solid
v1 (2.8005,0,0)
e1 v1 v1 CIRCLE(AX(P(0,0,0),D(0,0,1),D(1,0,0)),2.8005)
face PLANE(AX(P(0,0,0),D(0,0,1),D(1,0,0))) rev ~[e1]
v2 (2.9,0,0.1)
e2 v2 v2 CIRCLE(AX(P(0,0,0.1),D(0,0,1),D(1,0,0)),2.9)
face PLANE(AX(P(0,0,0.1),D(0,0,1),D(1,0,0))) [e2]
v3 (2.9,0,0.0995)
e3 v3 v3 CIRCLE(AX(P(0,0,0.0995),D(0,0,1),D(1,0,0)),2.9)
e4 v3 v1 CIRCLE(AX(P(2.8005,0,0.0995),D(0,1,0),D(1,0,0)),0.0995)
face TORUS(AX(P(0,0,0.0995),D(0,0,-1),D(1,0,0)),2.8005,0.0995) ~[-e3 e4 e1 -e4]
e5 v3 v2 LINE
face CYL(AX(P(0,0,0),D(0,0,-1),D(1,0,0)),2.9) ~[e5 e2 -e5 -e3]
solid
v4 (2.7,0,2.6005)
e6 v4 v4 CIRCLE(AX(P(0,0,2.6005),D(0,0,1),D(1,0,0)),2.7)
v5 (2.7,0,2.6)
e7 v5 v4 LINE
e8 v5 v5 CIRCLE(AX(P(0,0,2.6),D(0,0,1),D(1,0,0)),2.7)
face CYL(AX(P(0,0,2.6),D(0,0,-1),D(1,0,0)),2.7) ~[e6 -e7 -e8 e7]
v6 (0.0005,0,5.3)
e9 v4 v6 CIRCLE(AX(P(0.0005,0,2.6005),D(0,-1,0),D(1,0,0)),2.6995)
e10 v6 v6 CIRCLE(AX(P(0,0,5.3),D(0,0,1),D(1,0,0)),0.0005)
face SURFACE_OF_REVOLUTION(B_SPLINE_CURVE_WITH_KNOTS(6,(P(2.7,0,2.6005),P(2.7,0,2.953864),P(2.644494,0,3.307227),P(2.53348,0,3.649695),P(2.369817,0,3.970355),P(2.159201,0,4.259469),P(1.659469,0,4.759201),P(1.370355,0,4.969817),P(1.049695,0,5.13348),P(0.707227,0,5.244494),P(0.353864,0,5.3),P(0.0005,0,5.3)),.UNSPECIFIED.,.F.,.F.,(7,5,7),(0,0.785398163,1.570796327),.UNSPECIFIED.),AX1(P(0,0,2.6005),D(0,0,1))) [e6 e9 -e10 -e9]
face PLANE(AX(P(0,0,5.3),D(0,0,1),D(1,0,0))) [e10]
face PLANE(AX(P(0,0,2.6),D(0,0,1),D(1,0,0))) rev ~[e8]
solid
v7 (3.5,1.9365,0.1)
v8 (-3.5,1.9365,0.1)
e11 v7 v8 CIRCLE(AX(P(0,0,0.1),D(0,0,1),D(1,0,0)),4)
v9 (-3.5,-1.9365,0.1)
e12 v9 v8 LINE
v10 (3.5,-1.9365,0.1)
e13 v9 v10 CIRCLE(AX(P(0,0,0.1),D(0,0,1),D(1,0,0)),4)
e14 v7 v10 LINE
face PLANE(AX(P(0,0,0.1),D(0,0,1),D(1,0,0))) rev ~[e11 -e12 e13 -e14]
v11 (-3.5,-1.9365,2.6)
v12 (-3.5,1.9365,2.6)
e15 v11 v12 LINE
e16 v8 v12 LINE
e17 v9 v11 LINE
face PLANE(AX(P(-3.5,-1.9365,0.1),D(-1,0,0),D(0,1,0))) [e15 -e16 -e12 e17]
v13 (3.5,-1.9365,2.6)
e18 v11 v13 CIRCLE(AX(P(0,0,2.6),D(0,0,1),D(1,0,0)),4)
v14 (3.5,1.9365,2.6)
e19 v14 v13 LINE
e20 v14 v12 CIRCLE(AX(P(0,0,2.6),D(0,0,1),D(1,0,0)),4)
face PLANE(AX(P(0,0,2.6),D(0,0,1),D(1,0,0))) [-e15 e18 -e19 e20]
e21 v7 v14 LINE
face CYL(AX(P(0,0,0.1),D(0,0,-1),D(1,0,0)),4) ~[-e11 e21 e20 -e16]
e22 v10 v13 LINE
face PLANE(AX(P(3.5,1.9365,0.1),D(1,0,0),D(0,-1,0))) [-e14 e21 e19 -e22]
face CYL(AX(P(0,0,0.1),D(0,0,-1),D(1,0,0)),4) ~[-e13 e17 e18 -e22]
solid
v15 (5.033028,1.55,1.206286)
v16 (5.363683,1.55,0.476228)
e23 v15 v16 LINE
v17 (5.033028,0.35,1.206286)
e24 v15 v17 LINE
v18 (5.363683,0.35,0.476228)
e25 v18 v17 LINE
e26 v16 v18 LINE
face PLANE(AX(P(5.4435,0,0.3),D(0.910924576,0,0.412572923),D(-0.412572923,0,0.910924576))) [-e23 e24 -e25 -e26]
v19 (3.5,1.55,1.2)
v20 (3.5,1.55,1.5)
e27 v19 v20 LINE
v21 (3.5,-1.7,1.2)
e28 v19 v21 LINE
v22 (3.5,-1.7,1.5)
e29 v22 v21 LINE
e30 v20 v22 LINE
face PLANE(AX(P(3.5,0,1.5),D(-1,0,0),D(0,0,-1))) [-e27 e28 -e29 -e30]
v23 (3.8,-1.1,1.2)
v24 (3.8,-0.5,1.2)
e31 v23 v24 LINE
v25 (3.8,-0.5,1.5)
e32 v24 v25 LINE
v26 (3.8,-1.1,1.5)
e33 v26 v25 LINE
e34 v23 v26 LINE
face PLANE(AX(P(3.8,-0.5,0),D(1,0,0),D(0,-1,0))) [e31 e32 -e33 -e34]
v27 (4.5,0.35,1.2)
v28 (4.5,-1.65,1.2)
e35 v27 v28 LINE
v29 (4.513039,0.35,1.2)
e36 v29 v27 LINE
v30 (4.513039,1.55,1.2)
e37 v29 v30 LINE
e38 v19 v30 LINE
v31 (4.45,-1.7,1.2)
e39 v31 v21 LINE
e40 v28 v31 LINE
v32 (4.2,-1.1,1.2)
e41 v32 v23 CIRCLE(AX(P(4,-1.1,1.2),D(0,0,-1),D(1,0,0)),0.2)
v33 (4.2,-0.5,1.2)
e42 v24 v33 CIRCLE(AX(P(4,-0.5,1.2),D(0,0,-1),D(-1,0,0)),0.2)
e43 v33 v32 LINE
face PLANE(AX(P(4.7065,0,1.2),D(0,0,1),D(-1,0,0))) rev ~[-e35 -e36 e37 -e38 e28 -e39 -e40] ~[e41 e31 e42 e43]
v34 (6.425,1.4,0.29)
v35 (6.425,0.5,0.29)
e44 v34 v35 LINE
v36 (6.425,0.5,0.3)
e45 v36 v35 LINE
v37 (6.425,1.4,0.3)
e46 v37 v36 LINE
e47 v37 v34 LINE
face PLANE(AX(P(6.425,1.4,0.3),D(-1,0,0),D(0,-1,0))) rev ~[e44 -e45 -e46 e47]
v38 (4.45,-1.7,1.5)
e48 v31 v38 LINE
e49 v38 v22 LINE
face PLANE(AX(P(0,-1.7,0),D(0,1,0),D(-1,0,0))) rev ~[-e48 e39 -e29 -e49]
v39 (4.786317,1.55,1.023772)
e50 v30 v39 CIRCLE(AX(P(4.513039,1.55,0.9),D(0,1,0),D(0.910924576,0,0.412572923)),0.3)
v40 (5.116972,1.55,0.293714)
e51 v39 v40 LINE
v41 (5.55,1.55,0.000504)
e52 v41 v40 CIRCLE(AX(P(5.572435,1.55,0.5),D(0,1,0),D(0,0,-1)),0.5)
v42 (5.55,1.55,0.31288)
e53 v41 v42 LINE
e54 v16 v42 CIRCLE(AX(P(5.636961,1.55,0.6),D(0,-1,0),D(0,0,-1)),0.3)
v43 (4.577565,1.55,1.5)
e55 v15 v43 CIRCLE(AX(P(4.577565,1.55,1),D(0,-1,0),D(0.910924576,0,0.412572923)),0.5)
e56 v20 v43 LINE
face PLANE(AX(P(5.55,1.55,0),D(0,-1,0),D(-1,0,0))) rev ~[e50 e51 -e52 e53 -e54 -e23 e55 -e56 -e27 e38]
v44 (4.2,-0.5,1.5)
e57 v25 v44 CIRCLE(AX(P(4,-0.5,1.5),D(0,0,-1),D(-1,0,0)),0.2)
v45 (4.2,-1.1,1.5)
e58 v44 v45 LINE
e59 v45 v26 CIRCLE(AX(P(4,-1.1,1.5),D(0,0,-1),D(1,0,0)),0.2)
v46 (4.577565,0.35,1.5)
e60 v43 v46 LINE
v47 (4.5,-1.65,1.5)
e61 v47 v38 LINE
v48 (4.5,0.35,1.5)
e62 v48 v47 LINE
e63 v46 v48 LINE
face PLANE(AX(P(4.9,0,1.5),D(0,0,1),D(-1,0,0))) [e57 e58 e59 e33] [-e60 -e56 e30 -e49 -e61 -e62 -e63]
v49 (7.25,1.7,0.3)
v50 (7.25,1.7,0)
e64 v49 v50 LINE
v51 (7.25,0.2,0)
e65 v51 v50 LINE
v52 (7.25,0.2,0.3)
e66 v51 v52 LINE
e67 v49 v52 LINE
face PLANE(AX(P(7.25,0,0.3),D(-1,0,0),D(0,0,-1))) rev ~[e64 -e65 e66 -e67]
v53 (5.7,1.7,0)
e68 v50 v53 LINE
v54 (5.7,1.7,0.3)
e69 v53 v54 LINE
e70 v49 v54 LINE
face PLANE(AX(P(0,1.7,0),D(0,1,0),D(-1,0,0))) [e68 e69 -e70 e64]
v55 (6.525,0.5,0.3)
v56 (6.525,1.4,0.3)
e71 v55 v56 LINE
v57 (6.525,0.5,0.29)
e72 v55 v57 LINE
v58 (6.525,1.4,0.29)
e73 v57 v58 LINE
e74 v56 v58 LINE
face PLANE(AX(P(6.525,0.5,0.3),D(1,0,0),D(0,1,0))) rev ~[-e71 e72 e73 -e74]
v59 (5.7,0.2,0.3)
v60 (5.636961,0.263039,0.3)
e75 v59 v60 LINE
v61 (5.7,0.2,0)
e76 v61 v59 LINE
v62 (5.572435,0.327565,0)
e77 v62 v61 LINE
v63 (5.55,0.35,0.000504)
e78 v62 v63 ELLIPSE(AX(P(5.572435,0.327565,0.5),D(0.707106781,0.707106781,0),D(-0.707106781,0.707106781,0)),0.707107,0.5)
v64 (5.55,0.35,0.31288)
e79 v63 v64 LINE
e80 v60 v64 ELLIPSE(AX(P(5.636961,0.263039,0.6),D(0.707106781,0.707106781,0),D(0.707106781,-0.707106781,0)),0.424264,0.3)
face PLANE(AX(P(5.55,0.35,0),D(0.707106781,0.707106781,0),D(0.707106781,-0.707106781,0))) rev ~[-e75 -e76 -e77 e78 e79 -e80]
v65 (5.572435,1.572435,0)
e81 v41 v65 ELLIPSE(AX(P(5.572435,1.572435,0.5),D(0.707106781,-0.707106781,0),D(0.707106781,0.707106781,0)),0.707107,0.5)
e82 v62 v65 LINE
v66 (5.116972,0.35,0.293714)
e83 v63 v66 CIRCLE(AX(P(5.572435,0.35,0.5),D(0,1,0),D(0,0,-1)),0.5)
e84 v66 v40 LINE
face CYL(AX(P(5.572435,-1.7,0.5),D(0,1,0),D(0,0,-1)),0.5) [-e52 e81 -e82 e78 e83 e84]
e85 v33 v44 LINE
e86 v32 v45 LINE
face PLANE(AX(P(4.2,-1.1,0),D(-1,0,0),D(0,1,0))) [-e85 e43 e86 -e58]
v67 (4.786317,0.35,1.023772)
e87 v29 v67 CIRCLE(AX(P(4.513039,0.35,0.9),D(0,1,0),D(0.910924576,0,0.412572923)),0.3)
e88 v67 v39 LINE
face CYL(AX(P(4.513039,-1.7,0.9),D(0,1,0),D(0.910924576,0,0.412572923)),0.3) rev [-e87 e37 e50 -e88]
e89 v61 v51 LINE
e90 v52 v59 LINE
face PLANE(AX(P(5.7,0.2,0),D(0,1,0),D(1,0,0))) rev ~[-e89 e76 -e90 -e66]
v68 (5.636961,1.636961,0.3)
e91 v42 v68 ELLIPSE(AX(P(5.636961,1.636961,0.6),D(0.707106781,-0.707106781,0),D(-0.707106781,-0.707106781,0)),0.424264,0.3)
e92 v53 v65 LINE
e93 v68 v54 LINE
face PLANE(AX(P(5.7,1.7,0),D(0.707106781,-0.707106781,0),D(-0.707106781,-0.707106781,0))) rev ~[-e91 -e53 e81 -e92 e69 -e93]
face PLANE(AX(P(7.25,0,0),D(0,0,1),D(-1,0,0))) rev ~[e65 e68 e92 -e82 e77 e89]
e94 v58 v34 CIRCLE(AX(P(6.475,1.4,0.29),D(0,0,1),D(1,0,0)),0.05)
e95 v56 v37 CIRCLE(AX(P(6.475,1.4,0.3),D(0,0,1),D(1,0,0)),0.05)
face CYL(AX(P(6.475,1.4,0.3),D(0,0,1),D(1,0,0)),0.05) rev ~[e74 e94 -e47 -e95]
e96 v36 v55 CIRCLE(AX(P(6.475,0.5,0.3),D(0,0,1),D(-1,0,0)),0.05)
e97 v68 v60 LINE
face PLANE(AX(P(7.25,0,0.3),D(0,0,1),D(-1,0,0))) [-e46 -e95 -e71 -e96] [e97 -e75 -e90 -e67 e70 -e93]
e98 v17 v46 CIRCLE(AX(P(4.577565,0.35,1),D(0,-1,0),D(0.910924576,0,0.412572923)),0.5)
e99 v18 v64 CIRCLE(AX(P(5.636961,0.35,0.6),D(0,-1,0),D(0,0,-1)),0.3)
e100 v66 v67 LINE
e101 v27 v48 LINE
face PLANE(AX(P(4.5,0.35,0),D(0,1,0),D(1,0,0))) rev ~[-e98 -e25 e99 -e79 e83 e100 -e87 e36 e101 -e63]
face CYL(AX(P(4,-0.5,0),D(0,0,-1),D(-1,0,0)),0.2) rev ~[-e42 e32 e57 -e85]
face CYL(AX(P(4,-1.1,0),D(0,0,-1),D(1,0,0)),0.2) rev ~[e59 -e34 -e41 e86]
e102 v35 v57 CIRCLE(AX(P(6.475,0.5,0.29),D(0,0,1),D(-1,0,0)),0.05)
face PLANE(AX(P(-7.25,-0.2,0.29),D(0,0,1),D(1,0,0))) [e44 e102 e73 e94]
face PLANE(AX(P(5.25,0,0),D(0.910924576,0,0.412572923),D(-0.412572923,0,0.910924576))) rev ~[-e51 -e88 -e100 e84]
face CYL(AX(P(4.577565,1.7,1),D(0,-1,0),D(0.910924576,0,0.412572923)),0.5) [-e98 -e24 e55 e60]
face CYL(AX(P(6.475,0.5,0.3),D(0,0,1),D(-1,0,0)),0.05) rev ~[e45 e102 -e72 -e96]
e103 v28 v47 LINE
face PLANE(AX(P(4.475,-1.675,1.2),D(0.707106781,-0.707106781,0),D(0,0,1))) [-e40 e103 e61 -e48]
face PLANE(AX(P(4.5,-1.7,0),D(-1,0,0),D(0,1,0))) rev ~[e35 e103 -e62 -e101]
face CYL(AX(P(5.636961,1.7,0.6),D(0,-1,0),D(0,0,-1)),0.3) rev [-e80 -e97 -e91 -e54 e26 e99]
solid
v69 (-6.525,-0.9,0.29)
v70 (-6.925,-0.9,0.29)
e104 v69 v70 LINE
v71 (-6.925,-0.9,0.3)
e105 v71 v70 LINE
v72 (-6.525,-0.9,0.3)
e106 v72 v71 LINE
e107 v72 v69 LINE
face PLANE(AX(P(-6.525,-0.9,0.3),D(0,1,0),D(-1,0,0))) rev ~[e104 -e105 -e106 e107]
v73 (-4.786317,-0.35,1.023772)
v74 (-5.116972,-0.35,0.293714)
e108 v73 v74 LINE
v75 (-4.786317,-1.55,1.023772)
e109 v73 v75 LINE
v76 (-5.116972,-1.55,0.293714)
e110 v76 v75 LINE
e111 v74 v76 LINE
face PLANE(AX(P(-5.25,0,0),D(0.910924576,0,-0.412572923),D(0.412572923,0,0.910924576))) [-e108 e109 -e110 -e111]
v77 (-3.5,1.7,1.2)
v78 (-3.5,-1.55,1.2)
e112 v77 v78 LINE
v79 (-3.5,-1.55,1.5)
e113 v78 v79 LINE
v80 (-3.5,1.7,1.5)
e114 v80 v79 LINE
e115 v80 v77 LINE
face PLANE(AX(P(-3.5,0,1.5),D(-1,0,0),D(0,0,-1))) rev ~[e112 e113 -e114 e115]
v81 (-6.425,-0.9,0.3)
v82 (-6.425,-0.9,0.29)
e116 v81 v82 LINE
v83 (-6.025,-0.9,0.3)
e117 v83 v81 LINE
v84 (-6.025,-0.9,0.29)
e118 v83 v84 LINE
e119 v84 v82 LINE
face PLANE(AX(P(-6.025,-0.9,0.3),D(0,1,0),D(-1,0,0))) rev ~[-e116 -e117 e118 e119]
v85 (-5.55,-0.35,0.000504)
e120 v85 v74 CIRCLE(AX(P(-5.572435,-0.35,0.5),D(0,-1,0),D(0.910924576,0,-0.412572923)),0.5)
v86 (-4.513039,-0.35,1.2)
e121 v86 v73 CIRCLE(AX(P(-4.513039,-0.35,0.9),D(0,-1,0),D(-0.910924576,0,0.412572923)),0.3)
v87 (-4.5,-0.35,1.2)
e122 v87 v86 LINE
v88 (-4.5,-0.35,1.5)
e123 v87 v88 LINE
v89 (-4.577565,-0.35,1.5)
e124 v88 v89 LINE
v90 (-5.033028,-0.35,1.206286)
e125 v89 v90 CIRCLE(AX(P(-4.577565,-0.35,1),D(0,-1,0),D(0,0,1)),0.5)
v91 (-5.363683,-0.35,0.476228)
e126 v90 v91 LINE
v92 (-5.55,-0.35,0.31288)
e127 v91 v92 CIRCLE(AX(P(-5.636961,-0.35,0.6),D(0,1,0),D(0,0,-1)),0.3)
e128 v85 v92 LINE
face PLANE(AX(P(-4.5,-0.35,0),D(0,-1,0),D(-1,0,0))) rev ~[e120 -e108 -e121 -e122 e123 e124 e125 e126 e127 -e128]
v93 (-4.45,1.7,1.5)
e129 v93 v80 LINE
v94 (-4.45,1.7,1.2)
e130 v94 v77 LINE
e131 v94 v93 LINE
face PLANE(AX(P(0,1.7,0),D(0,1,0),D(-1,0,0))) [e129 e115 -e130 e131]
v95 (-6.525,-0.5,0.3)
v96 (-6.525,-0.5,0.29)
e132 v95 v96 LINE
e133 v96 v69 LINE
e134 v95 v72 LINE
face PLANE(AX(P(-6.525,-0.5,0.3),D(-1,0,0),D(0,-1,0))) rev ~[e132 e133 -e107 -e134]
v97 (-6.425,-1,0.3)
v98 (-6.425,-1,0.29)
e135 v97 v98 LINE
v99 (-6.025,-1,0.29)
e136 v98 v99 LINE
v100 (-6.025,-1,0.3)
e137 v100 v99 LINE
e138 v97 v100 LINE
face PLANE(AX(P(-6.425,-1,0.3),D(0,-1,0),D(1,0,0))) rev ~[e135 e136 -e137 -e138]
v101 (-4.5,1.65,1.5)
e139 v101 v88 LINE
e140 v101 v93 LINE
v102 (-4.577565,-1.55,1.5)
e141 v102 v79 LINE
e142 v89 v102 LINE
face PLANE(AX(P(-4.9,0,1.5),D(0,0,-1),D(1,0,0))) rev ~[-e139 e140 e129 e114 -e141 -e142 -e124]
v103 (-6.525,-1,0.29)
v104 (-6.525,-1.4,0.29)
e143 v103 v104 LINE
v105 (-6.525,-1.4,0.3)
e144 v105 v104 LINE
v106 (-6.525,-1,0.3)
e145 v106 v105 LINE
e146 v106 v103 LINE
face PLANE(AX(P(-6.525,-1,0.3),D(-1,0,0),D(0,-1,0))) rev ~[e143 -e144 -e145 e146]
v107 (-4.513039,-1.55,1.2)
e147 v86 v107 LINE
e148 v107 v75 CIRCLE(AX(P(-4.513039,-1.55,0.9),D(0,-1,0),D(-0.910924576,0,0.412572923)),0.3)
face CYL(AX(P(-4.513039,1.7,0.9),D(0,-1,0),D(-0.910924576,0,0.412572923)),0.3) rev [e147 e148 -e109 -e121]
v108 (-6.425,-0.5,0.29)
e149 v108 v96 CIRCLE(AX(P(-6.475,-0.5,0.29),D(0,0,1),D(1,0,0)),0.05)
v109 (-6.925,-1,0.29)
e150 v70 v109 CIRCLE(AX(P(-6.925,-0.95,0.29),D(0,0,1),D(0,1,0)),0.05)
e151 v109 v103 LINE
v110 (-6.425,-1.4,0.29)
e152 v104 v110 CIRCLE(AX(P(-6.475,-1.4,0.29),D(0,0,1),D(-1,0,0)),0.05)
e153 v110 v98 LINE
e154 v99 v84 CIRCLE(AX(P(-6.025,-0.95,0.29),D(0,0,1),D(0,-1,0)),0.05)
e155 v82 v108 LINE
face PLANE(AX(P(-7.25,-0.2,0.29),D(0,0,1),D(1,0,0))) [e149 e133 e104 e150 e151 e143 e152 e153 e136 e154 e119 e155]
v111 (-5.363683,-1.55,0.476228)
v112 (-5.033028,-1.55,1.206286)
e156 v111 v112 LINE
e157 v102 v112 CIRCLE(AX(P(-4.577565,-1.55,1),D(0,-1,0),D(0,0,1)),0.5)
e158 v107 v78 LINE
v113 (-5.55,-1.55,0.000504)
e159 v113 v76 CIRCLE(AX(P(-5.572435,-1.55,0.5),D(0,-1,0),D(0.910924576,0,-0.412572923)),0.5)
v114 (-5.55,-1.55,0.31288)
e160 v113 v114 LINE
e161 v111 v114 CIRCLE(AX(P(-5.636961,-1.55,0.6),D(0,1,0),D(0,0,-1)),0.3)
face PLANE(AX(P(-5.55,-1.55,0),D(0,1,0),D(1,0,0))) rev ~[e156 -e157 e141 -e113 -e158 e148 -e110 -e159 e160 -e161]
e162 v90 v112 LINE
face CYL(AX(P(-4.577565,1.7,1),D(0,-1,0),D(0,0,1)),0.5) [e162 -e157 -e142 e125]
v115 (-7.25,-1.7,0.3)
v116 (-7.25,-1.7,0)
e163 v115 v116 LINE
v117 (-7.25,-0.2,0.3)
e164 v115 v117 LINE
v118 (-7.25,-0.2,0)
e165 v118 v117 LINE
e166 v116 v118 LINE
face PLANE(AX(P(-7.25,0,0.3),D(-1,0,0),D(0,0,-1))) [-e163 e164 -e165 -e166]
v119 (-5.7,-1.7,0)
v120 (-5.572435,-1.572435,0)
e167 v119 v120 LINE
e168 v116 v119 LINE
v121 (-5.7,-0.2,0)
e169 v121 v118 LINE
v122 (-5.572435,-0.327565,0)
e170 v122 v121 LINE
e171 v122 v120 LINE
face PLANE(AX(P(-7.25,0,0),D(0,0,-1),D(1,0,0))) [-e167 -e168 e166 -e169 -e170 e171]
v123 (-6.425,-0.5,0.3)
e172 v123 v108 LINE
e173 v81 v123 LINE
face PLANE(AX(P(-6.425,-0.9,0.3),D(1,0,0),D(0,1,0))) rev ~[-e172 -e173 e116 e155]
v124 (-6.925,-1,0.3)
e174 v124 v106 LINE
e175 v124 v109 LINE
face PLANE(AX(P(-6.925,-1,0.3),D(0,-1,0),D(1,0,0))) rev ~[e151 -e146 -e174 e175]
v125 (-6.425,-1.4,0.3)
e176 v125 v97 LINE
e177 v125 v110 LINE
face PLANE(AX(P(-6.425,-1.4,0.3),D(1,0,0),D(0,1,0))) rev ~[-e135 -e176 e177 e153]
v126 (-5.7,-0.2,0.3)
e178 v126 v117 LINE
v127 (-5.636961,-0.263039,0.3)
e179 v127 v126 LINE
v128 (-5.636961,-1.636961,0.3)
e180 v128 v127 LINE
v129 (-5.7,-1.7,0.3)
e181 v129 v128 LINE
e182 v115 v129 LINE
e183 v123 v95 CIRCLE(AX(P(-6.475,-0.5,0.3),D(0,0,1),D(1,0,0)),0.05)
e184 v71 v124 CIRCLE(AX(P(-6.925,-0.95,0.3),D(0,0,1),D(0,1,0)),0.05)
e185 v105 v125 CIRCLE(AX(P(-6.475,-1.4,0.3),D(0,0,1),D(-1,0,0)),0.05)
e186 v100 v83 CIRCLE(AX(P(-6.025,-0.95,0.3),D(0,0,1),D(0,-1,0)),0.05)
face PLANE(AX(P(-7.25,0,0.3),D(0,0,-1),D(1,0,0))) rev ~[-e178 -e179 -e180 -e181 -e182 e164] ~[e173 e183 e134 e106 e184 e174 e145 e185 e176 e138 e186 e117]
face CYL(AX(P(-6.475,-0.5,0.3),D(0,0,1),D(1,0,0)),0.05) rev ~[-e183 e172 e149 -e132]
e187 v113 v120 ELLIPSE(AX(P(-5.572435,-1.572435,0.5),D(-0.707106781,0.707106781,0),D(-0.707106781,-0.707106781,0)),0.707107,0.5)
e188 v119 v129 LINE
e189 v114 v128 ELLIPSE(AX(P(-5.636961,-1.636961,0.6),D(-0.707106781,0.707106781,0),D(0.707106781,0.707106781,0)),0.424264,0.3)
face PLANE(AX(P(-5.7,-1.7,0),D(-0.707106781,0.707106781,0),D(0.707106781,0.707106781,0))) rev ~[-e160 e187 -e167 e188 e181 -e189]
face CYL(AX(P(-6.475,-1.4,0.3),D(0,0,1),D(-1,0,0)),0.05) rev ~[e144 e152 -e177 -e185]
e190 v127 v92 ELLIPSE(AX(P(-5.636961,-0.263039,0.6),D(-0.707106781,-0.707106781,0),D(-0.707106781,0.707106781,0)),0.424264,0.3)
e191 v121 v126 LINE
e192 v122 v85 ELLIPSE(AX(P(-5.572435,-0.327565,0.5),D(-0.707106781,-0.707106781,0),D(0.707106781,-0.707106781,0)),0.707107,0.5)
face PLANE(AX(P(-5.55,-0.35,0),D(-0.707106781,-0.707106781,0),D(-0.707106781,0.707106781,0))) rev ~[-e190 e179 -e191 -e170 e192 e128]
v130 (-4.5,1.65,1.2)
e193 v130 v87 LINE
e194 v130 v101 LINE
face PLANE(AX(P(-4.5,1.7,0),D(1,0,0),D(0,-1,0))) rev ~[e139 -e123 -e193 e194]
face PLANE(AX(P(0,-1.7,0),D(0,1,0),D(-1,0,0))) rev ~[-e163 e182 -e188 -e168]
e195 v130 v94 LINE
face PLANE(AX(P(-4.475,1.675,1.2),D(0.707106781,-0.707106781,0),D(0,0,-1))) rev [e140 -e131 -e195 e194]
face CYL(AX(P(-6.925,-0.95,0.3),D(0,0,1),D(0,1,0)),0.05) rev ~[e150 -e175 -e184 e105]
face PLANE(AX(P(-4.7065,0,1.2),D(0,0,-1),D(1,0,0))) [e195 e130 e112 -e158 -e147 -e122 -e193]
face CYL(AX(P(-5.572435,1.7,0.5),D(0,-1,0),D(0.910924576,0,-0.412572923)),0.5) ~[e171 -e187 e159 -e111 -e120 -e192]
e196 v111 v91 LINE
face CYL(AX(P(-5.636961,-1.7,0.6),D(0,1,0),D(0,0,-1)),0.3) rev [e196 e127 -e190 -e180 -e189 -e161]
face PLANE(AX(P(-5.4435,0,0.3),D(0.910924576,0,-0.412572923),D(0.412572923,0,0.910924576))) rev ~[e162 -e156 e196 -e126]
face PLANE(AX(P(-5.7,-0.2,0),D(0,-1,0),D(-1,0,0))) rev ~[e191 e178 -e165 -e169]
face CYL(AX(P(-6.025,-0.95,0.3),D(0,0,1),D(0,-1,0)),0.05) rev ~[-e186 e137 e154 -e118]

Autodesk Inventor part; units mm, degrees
ref_plane "YZ Plane" through (0, 0, 0) normal (1, 0, 0) x (0, 1, 0)
ref_plane "XZ Plane" through (0, 0, 0) normal (0, 1, 0) x (-1, 0, 0)
ref_plane "XY Plane" through (0, 0, 0) normal (0, 0, 1) x (1, 0, 0)
sketch "Sketch1" plane through (0, 0, 0) normal (0, 0, 1) x (1, 0, 0)
  circle A0 centre (0, 0) radius 2.9
  dimension "d0" = 5.8
extrude "Extrusion1" add sketch "Sketch1" along normal blind 0.1
sketch "Sketch2" plane through (0, 0, 0.1) normal (0, 0, 1) x (1, 0, 0)
  circle A0 centre (0, 0) radius 4
  line L0 (-3.5, 1.9365) -> (3.5, 1.9365)
  line L1 (3.5, 1.9365) -> (3.5, -1.9365)
  line L2 (3.5, -1.9365) -> (-3.5, -1.9365)
  line L3 (-3.5, -1.9365) -> (-3.5, 1.9365)
  point P0 (-3.5, -1.9365)
  dimension "d3" = 8
  dimension "d4" = 7
extrude "Extrusion2" add sketch "Sketch2" along normal blind 2.5 separate body contours L0 A0 | L1 L2 L3 L0 | A0 L2
fillet "Fillet1" radius 0.1 1 edges at (-2.9, 0, 0)
sketch "Sketch3" plane through (0, 0, 2.6) normal (0, 0, 1) x (1, 0, 0)
  circle A0 centre (0, 0) radius 2.7
  dimension "d8" = 5.4
extrude "Extrusion3" add sketch "Sketch3" along normal blind 2.7 separate body
fillet "Fillet2" radius 2.7 1 edges at (-2.7, 0, 5.3)
sketch "Sketch4" plane through (0, 0, 0) normal (0, 1, 0) x (-1, 0, 0)
  line L0 (7.25, 0) -> (5.25, 0)
  line L1 (5.25, 0) -> (4.7065, 1.2)
  line L2 (4.7065, 1.2) -> (3.5, 1.2)
  line L3 (7.25, 0.3) -> (5.4435, 0.3)
  line L4 (5.4435, 0.3) -> (4.9, 1.5)
  line L5 (4.9, 1.5) -> (3.5, 1.5)
  line L6 (7.25, 0.3) -> (7.25, 0)
  line L7 (3.5, 1.5) -> (3.5, 1.2)
  line L8 (0, 0) -> (0, 5.7322) construction
  line L9 (-7.25, 0) -> (-5.25, 0)
  line L10 (-5.25, 0) -> (-4.7065, 1.2)
  line L11 (-4.7065, 1.2) -> (-3.5, 1.2)
  line L12 (-7.25, 0.3) -> (-5.4435, 0.3)
  line L13 (-5.4435, 0.3) -> (-4.9, 1.5)
  line L14 (-4.9, 1.5) -> (-3.5, 1.5)
  line L15 (-7.25, 0.3) -> (-7.25, 0)
  line L16 (-3.5, 1.5) -> (-3.5, 1.2)
  dimension "d12" = 0.3
  dimension "d14" = 0.3
  dimension "d16" = 0.3
  dimension "d17" = 3.5
  dimension "d18" = 1.5
  dimension "d20" = 2
  dimension "d21" = 1.4
  dimension "d29" = 14.5
extrude "Extrusion4" add sketch "Sketch4" along normal mid plane 3.4 separate body
fillet "Fillet3" radius 0.3 4 edges at (-4.7065, 0, 1.2) (-5.4435, 0, 0.3) (4.7065, 0, 1.2) (5.4435, 0, 0.3)
fillet "Fillet4" radius 0.5 4 edges at (-4.9, 0, 1.5) (-5.25, 0, 0) (4.9, 0, 1.5) (5.25, 0, 0)
sketch "Sketch5" plane through (-7.25, -1.7, 0) normal (0, 0, -1) x (-1, 0, 0)
  line L0 (-2.75, 3.4) -> (-2.75, 1.35)
  line L1 (-2.75, 1.35) -> (-1.7, 1.35)
  line L2 (-1.7, 1.35) -> (-1.55, 1.5)
  line L3 (-1.55, 1.5) -> (0, 1.5)
  line L4 (0, 1.5) -> (0, 0)
  line L5 (0, 0) -> (-1.55, 0)
  line L6 (-1.55, 0) -> (-1.7, 0.15)
  line L7 (-1.7, 0.15) -> (-3.75, 0.15)
  line L8 (-1.7, 1.35) -> (-1.7, 0.15) construction
  line L9 (-2.75, 3.4) -> (-3.75, 3.4)
  line L10 (-14.5, 3.4) -> (-12.95, 3.4)
  line L11 (-12.95, 3.4) -> (-12.8, 3.25)
  line L12 (-12.8, 3.25) -> (-10.75, 3.25)
  line L13 (-10.75, 0) -> (-11.75, 0)
  line L14 (-11.75, 0) -> (-11.75, 2.05)
  line L15 (-11.75, 2.05) -> (-12.8, 2.05)
  line L16 (-12.8, 2.05) -> (-12.95, 1.9)
  line L17 (-12.95, 1.9) -> (-14.5, 1.9)
  line L18 (-14.5, 1.9) -> (-14.5, 3.4)
  line L19 (-3.75, 3.4) -> (-3.75, 0.15)
  line L20 (-10.75, 3.25) -> (-10.75, 0)
  line L21 (0, 0) -> (-14.5, 0)
  line L22 (-14.5, 0) -> (-14.5, 3.4)
  line L23 (-14.5, 3.4) -> (0, 3.4)
  line L24 (0, 3.4) -> (0, 0)
  line L25 (-11.25, 1.2) -> (-11.25, 0.6) construction
  line L26 (-11.05, 1.2) -> (-11.05, 0.6)
  line L27 (-11.45, 0.6) -> (-11.45, 1.2)
  arc A0 (-11.05, 1.2) -> (-11.45, 1.2) centre (-11.25, 1.2) ccw
  arc A1 (-11.45, 0.6) -> (-11.05, 0.6) centre (-11.25, 0.6) ccw
  point P0 (-1.7, 0.75)
  point P1 (0, 0.75)
  point P2 (-11.25, 0.9)
  point P3 (-11.25, 0)
  point P4 (-3.75, 3.4)
  point P5 (-10.75, 0)
  point P6 (0, 1.5)
  point P7 (-2.75, 3.4)
  point P8 (-11.75, 0)
  dimension "d31" = 1.5
  dimension "d32" = 1.2
  dimension "d33" = 135
  dimension "d34" = 1.7
  dimension "d35" = 1
  dimension "d36" = 3.4
  dimension "d37" = 3.75
  dimension "d38" = 7
  dimension "d39" = 1
  dimension "d41" = 0.4
  dimension "d42" = 0.6
extrude "Extrusion5" cut sketch "Sketch5" against normal through all contours L23 L24 L3 L2 L1 L0 | L19 L7 L6 L21 L20 L12 L11 L23 | L17 L16 L15 L14 L21 L22 | L26 A1 L27 A0 bodies 4
sketch "Sketch6" plane through (-7.25, -0.2, 0.3) normal (0, 0, 1) x (1, 0, 0)
  line L0 (0.775, -0.3) -> (0.775, -1.2) construction
  line L1 (0.725, -0.3) -> (0.725, -1.2)
  line L2 (0.825, -1.2) -> (0.825, -0.3)
  arc A0 (0.825, -0.3) -> (0.725, -0.3) centre (0.775, -0.3) ccw
  arc A1 (0.725, -1.2) -> (0.825, -1.2) centre (0.775, -1.2) ccw
  line L3 (0, -1.5) -> (0, 0) projected
  line L4 (0.325, -0.75) -> (1.225, -0.75) construction
  line L5 (0.325, -0.8) -> (1.225, -0.8)
  line L6 (1.225, -0.7) -> (0.325, -0.7)
  arc A2 (0.325, -0.7) -> (0.325, -0.8) centre (0.325, -0.75) ccw
  arc A3 (1.225, -0.8) -> (1.225, -0.7) centre (1.225, -0.75) ccw
  line L7 (1.55, 0) -> (0, 0) projected
  line L8 (13.725, 1.6) -> (13.725, 0.7) construction
  line L9 (13.675, 1.6) -> (13.675, 0.7)
  line L10 (13.775, 0.7) -> (13.775, 1.6)
  arc A4 (13.775, 1.6) -> (13.675, 1.6) centre (13.725, 1.6) ccw
  arc A5 (13.675, 0.7) -> (13.775, 0.7) centre (13.725, 0.7) ccw
  line L11 (14.5, 0.4) -> (14.5, 1.9) projected
  line L12 (12.95, 1.9) -> (14.5, 1.9) projected
  point P0 (7.25, 0.2)
  point P1 (0.775, -0.75)
  point P2 (0, -0.75)
  point P3 (0.775, -0.75)
  point P4 (0.775, 0)
  point P5 (13.725, 1.15)
  point P6 (14.5, 1.15)
  point P7 (13.725, 1.9)
  point P8 (0.825, -0.7)
  point P9 (0.725, -0.7)
  point P10 (0.725, -0.8)
  point P11 (0.825, -0.8)
  dimension "d45" = 0.1
  dimension "d46" = 1
  dimension "d47" = 0.1
  dimension "d48" = 1
  dimension "d49" = 0.1
  dimension "d50" = 1
extrude "Extrusion6" cut sketch "Sketch6" against normal blind 0.01 bodies 4
chamfer "Chamfer1" distance 0.05 angle 45 2 edges at (-4.5, 1.7, 1.35) (4.5, -1.7, 1.35)
equation "\"d14\" = d12"
equation "\"d16\" = d12"
equation "\"d47\" = d45"
equation "\"d48\" = d46"
equation "\"d49\" = d45"
equation "\"d50\" = d46"
